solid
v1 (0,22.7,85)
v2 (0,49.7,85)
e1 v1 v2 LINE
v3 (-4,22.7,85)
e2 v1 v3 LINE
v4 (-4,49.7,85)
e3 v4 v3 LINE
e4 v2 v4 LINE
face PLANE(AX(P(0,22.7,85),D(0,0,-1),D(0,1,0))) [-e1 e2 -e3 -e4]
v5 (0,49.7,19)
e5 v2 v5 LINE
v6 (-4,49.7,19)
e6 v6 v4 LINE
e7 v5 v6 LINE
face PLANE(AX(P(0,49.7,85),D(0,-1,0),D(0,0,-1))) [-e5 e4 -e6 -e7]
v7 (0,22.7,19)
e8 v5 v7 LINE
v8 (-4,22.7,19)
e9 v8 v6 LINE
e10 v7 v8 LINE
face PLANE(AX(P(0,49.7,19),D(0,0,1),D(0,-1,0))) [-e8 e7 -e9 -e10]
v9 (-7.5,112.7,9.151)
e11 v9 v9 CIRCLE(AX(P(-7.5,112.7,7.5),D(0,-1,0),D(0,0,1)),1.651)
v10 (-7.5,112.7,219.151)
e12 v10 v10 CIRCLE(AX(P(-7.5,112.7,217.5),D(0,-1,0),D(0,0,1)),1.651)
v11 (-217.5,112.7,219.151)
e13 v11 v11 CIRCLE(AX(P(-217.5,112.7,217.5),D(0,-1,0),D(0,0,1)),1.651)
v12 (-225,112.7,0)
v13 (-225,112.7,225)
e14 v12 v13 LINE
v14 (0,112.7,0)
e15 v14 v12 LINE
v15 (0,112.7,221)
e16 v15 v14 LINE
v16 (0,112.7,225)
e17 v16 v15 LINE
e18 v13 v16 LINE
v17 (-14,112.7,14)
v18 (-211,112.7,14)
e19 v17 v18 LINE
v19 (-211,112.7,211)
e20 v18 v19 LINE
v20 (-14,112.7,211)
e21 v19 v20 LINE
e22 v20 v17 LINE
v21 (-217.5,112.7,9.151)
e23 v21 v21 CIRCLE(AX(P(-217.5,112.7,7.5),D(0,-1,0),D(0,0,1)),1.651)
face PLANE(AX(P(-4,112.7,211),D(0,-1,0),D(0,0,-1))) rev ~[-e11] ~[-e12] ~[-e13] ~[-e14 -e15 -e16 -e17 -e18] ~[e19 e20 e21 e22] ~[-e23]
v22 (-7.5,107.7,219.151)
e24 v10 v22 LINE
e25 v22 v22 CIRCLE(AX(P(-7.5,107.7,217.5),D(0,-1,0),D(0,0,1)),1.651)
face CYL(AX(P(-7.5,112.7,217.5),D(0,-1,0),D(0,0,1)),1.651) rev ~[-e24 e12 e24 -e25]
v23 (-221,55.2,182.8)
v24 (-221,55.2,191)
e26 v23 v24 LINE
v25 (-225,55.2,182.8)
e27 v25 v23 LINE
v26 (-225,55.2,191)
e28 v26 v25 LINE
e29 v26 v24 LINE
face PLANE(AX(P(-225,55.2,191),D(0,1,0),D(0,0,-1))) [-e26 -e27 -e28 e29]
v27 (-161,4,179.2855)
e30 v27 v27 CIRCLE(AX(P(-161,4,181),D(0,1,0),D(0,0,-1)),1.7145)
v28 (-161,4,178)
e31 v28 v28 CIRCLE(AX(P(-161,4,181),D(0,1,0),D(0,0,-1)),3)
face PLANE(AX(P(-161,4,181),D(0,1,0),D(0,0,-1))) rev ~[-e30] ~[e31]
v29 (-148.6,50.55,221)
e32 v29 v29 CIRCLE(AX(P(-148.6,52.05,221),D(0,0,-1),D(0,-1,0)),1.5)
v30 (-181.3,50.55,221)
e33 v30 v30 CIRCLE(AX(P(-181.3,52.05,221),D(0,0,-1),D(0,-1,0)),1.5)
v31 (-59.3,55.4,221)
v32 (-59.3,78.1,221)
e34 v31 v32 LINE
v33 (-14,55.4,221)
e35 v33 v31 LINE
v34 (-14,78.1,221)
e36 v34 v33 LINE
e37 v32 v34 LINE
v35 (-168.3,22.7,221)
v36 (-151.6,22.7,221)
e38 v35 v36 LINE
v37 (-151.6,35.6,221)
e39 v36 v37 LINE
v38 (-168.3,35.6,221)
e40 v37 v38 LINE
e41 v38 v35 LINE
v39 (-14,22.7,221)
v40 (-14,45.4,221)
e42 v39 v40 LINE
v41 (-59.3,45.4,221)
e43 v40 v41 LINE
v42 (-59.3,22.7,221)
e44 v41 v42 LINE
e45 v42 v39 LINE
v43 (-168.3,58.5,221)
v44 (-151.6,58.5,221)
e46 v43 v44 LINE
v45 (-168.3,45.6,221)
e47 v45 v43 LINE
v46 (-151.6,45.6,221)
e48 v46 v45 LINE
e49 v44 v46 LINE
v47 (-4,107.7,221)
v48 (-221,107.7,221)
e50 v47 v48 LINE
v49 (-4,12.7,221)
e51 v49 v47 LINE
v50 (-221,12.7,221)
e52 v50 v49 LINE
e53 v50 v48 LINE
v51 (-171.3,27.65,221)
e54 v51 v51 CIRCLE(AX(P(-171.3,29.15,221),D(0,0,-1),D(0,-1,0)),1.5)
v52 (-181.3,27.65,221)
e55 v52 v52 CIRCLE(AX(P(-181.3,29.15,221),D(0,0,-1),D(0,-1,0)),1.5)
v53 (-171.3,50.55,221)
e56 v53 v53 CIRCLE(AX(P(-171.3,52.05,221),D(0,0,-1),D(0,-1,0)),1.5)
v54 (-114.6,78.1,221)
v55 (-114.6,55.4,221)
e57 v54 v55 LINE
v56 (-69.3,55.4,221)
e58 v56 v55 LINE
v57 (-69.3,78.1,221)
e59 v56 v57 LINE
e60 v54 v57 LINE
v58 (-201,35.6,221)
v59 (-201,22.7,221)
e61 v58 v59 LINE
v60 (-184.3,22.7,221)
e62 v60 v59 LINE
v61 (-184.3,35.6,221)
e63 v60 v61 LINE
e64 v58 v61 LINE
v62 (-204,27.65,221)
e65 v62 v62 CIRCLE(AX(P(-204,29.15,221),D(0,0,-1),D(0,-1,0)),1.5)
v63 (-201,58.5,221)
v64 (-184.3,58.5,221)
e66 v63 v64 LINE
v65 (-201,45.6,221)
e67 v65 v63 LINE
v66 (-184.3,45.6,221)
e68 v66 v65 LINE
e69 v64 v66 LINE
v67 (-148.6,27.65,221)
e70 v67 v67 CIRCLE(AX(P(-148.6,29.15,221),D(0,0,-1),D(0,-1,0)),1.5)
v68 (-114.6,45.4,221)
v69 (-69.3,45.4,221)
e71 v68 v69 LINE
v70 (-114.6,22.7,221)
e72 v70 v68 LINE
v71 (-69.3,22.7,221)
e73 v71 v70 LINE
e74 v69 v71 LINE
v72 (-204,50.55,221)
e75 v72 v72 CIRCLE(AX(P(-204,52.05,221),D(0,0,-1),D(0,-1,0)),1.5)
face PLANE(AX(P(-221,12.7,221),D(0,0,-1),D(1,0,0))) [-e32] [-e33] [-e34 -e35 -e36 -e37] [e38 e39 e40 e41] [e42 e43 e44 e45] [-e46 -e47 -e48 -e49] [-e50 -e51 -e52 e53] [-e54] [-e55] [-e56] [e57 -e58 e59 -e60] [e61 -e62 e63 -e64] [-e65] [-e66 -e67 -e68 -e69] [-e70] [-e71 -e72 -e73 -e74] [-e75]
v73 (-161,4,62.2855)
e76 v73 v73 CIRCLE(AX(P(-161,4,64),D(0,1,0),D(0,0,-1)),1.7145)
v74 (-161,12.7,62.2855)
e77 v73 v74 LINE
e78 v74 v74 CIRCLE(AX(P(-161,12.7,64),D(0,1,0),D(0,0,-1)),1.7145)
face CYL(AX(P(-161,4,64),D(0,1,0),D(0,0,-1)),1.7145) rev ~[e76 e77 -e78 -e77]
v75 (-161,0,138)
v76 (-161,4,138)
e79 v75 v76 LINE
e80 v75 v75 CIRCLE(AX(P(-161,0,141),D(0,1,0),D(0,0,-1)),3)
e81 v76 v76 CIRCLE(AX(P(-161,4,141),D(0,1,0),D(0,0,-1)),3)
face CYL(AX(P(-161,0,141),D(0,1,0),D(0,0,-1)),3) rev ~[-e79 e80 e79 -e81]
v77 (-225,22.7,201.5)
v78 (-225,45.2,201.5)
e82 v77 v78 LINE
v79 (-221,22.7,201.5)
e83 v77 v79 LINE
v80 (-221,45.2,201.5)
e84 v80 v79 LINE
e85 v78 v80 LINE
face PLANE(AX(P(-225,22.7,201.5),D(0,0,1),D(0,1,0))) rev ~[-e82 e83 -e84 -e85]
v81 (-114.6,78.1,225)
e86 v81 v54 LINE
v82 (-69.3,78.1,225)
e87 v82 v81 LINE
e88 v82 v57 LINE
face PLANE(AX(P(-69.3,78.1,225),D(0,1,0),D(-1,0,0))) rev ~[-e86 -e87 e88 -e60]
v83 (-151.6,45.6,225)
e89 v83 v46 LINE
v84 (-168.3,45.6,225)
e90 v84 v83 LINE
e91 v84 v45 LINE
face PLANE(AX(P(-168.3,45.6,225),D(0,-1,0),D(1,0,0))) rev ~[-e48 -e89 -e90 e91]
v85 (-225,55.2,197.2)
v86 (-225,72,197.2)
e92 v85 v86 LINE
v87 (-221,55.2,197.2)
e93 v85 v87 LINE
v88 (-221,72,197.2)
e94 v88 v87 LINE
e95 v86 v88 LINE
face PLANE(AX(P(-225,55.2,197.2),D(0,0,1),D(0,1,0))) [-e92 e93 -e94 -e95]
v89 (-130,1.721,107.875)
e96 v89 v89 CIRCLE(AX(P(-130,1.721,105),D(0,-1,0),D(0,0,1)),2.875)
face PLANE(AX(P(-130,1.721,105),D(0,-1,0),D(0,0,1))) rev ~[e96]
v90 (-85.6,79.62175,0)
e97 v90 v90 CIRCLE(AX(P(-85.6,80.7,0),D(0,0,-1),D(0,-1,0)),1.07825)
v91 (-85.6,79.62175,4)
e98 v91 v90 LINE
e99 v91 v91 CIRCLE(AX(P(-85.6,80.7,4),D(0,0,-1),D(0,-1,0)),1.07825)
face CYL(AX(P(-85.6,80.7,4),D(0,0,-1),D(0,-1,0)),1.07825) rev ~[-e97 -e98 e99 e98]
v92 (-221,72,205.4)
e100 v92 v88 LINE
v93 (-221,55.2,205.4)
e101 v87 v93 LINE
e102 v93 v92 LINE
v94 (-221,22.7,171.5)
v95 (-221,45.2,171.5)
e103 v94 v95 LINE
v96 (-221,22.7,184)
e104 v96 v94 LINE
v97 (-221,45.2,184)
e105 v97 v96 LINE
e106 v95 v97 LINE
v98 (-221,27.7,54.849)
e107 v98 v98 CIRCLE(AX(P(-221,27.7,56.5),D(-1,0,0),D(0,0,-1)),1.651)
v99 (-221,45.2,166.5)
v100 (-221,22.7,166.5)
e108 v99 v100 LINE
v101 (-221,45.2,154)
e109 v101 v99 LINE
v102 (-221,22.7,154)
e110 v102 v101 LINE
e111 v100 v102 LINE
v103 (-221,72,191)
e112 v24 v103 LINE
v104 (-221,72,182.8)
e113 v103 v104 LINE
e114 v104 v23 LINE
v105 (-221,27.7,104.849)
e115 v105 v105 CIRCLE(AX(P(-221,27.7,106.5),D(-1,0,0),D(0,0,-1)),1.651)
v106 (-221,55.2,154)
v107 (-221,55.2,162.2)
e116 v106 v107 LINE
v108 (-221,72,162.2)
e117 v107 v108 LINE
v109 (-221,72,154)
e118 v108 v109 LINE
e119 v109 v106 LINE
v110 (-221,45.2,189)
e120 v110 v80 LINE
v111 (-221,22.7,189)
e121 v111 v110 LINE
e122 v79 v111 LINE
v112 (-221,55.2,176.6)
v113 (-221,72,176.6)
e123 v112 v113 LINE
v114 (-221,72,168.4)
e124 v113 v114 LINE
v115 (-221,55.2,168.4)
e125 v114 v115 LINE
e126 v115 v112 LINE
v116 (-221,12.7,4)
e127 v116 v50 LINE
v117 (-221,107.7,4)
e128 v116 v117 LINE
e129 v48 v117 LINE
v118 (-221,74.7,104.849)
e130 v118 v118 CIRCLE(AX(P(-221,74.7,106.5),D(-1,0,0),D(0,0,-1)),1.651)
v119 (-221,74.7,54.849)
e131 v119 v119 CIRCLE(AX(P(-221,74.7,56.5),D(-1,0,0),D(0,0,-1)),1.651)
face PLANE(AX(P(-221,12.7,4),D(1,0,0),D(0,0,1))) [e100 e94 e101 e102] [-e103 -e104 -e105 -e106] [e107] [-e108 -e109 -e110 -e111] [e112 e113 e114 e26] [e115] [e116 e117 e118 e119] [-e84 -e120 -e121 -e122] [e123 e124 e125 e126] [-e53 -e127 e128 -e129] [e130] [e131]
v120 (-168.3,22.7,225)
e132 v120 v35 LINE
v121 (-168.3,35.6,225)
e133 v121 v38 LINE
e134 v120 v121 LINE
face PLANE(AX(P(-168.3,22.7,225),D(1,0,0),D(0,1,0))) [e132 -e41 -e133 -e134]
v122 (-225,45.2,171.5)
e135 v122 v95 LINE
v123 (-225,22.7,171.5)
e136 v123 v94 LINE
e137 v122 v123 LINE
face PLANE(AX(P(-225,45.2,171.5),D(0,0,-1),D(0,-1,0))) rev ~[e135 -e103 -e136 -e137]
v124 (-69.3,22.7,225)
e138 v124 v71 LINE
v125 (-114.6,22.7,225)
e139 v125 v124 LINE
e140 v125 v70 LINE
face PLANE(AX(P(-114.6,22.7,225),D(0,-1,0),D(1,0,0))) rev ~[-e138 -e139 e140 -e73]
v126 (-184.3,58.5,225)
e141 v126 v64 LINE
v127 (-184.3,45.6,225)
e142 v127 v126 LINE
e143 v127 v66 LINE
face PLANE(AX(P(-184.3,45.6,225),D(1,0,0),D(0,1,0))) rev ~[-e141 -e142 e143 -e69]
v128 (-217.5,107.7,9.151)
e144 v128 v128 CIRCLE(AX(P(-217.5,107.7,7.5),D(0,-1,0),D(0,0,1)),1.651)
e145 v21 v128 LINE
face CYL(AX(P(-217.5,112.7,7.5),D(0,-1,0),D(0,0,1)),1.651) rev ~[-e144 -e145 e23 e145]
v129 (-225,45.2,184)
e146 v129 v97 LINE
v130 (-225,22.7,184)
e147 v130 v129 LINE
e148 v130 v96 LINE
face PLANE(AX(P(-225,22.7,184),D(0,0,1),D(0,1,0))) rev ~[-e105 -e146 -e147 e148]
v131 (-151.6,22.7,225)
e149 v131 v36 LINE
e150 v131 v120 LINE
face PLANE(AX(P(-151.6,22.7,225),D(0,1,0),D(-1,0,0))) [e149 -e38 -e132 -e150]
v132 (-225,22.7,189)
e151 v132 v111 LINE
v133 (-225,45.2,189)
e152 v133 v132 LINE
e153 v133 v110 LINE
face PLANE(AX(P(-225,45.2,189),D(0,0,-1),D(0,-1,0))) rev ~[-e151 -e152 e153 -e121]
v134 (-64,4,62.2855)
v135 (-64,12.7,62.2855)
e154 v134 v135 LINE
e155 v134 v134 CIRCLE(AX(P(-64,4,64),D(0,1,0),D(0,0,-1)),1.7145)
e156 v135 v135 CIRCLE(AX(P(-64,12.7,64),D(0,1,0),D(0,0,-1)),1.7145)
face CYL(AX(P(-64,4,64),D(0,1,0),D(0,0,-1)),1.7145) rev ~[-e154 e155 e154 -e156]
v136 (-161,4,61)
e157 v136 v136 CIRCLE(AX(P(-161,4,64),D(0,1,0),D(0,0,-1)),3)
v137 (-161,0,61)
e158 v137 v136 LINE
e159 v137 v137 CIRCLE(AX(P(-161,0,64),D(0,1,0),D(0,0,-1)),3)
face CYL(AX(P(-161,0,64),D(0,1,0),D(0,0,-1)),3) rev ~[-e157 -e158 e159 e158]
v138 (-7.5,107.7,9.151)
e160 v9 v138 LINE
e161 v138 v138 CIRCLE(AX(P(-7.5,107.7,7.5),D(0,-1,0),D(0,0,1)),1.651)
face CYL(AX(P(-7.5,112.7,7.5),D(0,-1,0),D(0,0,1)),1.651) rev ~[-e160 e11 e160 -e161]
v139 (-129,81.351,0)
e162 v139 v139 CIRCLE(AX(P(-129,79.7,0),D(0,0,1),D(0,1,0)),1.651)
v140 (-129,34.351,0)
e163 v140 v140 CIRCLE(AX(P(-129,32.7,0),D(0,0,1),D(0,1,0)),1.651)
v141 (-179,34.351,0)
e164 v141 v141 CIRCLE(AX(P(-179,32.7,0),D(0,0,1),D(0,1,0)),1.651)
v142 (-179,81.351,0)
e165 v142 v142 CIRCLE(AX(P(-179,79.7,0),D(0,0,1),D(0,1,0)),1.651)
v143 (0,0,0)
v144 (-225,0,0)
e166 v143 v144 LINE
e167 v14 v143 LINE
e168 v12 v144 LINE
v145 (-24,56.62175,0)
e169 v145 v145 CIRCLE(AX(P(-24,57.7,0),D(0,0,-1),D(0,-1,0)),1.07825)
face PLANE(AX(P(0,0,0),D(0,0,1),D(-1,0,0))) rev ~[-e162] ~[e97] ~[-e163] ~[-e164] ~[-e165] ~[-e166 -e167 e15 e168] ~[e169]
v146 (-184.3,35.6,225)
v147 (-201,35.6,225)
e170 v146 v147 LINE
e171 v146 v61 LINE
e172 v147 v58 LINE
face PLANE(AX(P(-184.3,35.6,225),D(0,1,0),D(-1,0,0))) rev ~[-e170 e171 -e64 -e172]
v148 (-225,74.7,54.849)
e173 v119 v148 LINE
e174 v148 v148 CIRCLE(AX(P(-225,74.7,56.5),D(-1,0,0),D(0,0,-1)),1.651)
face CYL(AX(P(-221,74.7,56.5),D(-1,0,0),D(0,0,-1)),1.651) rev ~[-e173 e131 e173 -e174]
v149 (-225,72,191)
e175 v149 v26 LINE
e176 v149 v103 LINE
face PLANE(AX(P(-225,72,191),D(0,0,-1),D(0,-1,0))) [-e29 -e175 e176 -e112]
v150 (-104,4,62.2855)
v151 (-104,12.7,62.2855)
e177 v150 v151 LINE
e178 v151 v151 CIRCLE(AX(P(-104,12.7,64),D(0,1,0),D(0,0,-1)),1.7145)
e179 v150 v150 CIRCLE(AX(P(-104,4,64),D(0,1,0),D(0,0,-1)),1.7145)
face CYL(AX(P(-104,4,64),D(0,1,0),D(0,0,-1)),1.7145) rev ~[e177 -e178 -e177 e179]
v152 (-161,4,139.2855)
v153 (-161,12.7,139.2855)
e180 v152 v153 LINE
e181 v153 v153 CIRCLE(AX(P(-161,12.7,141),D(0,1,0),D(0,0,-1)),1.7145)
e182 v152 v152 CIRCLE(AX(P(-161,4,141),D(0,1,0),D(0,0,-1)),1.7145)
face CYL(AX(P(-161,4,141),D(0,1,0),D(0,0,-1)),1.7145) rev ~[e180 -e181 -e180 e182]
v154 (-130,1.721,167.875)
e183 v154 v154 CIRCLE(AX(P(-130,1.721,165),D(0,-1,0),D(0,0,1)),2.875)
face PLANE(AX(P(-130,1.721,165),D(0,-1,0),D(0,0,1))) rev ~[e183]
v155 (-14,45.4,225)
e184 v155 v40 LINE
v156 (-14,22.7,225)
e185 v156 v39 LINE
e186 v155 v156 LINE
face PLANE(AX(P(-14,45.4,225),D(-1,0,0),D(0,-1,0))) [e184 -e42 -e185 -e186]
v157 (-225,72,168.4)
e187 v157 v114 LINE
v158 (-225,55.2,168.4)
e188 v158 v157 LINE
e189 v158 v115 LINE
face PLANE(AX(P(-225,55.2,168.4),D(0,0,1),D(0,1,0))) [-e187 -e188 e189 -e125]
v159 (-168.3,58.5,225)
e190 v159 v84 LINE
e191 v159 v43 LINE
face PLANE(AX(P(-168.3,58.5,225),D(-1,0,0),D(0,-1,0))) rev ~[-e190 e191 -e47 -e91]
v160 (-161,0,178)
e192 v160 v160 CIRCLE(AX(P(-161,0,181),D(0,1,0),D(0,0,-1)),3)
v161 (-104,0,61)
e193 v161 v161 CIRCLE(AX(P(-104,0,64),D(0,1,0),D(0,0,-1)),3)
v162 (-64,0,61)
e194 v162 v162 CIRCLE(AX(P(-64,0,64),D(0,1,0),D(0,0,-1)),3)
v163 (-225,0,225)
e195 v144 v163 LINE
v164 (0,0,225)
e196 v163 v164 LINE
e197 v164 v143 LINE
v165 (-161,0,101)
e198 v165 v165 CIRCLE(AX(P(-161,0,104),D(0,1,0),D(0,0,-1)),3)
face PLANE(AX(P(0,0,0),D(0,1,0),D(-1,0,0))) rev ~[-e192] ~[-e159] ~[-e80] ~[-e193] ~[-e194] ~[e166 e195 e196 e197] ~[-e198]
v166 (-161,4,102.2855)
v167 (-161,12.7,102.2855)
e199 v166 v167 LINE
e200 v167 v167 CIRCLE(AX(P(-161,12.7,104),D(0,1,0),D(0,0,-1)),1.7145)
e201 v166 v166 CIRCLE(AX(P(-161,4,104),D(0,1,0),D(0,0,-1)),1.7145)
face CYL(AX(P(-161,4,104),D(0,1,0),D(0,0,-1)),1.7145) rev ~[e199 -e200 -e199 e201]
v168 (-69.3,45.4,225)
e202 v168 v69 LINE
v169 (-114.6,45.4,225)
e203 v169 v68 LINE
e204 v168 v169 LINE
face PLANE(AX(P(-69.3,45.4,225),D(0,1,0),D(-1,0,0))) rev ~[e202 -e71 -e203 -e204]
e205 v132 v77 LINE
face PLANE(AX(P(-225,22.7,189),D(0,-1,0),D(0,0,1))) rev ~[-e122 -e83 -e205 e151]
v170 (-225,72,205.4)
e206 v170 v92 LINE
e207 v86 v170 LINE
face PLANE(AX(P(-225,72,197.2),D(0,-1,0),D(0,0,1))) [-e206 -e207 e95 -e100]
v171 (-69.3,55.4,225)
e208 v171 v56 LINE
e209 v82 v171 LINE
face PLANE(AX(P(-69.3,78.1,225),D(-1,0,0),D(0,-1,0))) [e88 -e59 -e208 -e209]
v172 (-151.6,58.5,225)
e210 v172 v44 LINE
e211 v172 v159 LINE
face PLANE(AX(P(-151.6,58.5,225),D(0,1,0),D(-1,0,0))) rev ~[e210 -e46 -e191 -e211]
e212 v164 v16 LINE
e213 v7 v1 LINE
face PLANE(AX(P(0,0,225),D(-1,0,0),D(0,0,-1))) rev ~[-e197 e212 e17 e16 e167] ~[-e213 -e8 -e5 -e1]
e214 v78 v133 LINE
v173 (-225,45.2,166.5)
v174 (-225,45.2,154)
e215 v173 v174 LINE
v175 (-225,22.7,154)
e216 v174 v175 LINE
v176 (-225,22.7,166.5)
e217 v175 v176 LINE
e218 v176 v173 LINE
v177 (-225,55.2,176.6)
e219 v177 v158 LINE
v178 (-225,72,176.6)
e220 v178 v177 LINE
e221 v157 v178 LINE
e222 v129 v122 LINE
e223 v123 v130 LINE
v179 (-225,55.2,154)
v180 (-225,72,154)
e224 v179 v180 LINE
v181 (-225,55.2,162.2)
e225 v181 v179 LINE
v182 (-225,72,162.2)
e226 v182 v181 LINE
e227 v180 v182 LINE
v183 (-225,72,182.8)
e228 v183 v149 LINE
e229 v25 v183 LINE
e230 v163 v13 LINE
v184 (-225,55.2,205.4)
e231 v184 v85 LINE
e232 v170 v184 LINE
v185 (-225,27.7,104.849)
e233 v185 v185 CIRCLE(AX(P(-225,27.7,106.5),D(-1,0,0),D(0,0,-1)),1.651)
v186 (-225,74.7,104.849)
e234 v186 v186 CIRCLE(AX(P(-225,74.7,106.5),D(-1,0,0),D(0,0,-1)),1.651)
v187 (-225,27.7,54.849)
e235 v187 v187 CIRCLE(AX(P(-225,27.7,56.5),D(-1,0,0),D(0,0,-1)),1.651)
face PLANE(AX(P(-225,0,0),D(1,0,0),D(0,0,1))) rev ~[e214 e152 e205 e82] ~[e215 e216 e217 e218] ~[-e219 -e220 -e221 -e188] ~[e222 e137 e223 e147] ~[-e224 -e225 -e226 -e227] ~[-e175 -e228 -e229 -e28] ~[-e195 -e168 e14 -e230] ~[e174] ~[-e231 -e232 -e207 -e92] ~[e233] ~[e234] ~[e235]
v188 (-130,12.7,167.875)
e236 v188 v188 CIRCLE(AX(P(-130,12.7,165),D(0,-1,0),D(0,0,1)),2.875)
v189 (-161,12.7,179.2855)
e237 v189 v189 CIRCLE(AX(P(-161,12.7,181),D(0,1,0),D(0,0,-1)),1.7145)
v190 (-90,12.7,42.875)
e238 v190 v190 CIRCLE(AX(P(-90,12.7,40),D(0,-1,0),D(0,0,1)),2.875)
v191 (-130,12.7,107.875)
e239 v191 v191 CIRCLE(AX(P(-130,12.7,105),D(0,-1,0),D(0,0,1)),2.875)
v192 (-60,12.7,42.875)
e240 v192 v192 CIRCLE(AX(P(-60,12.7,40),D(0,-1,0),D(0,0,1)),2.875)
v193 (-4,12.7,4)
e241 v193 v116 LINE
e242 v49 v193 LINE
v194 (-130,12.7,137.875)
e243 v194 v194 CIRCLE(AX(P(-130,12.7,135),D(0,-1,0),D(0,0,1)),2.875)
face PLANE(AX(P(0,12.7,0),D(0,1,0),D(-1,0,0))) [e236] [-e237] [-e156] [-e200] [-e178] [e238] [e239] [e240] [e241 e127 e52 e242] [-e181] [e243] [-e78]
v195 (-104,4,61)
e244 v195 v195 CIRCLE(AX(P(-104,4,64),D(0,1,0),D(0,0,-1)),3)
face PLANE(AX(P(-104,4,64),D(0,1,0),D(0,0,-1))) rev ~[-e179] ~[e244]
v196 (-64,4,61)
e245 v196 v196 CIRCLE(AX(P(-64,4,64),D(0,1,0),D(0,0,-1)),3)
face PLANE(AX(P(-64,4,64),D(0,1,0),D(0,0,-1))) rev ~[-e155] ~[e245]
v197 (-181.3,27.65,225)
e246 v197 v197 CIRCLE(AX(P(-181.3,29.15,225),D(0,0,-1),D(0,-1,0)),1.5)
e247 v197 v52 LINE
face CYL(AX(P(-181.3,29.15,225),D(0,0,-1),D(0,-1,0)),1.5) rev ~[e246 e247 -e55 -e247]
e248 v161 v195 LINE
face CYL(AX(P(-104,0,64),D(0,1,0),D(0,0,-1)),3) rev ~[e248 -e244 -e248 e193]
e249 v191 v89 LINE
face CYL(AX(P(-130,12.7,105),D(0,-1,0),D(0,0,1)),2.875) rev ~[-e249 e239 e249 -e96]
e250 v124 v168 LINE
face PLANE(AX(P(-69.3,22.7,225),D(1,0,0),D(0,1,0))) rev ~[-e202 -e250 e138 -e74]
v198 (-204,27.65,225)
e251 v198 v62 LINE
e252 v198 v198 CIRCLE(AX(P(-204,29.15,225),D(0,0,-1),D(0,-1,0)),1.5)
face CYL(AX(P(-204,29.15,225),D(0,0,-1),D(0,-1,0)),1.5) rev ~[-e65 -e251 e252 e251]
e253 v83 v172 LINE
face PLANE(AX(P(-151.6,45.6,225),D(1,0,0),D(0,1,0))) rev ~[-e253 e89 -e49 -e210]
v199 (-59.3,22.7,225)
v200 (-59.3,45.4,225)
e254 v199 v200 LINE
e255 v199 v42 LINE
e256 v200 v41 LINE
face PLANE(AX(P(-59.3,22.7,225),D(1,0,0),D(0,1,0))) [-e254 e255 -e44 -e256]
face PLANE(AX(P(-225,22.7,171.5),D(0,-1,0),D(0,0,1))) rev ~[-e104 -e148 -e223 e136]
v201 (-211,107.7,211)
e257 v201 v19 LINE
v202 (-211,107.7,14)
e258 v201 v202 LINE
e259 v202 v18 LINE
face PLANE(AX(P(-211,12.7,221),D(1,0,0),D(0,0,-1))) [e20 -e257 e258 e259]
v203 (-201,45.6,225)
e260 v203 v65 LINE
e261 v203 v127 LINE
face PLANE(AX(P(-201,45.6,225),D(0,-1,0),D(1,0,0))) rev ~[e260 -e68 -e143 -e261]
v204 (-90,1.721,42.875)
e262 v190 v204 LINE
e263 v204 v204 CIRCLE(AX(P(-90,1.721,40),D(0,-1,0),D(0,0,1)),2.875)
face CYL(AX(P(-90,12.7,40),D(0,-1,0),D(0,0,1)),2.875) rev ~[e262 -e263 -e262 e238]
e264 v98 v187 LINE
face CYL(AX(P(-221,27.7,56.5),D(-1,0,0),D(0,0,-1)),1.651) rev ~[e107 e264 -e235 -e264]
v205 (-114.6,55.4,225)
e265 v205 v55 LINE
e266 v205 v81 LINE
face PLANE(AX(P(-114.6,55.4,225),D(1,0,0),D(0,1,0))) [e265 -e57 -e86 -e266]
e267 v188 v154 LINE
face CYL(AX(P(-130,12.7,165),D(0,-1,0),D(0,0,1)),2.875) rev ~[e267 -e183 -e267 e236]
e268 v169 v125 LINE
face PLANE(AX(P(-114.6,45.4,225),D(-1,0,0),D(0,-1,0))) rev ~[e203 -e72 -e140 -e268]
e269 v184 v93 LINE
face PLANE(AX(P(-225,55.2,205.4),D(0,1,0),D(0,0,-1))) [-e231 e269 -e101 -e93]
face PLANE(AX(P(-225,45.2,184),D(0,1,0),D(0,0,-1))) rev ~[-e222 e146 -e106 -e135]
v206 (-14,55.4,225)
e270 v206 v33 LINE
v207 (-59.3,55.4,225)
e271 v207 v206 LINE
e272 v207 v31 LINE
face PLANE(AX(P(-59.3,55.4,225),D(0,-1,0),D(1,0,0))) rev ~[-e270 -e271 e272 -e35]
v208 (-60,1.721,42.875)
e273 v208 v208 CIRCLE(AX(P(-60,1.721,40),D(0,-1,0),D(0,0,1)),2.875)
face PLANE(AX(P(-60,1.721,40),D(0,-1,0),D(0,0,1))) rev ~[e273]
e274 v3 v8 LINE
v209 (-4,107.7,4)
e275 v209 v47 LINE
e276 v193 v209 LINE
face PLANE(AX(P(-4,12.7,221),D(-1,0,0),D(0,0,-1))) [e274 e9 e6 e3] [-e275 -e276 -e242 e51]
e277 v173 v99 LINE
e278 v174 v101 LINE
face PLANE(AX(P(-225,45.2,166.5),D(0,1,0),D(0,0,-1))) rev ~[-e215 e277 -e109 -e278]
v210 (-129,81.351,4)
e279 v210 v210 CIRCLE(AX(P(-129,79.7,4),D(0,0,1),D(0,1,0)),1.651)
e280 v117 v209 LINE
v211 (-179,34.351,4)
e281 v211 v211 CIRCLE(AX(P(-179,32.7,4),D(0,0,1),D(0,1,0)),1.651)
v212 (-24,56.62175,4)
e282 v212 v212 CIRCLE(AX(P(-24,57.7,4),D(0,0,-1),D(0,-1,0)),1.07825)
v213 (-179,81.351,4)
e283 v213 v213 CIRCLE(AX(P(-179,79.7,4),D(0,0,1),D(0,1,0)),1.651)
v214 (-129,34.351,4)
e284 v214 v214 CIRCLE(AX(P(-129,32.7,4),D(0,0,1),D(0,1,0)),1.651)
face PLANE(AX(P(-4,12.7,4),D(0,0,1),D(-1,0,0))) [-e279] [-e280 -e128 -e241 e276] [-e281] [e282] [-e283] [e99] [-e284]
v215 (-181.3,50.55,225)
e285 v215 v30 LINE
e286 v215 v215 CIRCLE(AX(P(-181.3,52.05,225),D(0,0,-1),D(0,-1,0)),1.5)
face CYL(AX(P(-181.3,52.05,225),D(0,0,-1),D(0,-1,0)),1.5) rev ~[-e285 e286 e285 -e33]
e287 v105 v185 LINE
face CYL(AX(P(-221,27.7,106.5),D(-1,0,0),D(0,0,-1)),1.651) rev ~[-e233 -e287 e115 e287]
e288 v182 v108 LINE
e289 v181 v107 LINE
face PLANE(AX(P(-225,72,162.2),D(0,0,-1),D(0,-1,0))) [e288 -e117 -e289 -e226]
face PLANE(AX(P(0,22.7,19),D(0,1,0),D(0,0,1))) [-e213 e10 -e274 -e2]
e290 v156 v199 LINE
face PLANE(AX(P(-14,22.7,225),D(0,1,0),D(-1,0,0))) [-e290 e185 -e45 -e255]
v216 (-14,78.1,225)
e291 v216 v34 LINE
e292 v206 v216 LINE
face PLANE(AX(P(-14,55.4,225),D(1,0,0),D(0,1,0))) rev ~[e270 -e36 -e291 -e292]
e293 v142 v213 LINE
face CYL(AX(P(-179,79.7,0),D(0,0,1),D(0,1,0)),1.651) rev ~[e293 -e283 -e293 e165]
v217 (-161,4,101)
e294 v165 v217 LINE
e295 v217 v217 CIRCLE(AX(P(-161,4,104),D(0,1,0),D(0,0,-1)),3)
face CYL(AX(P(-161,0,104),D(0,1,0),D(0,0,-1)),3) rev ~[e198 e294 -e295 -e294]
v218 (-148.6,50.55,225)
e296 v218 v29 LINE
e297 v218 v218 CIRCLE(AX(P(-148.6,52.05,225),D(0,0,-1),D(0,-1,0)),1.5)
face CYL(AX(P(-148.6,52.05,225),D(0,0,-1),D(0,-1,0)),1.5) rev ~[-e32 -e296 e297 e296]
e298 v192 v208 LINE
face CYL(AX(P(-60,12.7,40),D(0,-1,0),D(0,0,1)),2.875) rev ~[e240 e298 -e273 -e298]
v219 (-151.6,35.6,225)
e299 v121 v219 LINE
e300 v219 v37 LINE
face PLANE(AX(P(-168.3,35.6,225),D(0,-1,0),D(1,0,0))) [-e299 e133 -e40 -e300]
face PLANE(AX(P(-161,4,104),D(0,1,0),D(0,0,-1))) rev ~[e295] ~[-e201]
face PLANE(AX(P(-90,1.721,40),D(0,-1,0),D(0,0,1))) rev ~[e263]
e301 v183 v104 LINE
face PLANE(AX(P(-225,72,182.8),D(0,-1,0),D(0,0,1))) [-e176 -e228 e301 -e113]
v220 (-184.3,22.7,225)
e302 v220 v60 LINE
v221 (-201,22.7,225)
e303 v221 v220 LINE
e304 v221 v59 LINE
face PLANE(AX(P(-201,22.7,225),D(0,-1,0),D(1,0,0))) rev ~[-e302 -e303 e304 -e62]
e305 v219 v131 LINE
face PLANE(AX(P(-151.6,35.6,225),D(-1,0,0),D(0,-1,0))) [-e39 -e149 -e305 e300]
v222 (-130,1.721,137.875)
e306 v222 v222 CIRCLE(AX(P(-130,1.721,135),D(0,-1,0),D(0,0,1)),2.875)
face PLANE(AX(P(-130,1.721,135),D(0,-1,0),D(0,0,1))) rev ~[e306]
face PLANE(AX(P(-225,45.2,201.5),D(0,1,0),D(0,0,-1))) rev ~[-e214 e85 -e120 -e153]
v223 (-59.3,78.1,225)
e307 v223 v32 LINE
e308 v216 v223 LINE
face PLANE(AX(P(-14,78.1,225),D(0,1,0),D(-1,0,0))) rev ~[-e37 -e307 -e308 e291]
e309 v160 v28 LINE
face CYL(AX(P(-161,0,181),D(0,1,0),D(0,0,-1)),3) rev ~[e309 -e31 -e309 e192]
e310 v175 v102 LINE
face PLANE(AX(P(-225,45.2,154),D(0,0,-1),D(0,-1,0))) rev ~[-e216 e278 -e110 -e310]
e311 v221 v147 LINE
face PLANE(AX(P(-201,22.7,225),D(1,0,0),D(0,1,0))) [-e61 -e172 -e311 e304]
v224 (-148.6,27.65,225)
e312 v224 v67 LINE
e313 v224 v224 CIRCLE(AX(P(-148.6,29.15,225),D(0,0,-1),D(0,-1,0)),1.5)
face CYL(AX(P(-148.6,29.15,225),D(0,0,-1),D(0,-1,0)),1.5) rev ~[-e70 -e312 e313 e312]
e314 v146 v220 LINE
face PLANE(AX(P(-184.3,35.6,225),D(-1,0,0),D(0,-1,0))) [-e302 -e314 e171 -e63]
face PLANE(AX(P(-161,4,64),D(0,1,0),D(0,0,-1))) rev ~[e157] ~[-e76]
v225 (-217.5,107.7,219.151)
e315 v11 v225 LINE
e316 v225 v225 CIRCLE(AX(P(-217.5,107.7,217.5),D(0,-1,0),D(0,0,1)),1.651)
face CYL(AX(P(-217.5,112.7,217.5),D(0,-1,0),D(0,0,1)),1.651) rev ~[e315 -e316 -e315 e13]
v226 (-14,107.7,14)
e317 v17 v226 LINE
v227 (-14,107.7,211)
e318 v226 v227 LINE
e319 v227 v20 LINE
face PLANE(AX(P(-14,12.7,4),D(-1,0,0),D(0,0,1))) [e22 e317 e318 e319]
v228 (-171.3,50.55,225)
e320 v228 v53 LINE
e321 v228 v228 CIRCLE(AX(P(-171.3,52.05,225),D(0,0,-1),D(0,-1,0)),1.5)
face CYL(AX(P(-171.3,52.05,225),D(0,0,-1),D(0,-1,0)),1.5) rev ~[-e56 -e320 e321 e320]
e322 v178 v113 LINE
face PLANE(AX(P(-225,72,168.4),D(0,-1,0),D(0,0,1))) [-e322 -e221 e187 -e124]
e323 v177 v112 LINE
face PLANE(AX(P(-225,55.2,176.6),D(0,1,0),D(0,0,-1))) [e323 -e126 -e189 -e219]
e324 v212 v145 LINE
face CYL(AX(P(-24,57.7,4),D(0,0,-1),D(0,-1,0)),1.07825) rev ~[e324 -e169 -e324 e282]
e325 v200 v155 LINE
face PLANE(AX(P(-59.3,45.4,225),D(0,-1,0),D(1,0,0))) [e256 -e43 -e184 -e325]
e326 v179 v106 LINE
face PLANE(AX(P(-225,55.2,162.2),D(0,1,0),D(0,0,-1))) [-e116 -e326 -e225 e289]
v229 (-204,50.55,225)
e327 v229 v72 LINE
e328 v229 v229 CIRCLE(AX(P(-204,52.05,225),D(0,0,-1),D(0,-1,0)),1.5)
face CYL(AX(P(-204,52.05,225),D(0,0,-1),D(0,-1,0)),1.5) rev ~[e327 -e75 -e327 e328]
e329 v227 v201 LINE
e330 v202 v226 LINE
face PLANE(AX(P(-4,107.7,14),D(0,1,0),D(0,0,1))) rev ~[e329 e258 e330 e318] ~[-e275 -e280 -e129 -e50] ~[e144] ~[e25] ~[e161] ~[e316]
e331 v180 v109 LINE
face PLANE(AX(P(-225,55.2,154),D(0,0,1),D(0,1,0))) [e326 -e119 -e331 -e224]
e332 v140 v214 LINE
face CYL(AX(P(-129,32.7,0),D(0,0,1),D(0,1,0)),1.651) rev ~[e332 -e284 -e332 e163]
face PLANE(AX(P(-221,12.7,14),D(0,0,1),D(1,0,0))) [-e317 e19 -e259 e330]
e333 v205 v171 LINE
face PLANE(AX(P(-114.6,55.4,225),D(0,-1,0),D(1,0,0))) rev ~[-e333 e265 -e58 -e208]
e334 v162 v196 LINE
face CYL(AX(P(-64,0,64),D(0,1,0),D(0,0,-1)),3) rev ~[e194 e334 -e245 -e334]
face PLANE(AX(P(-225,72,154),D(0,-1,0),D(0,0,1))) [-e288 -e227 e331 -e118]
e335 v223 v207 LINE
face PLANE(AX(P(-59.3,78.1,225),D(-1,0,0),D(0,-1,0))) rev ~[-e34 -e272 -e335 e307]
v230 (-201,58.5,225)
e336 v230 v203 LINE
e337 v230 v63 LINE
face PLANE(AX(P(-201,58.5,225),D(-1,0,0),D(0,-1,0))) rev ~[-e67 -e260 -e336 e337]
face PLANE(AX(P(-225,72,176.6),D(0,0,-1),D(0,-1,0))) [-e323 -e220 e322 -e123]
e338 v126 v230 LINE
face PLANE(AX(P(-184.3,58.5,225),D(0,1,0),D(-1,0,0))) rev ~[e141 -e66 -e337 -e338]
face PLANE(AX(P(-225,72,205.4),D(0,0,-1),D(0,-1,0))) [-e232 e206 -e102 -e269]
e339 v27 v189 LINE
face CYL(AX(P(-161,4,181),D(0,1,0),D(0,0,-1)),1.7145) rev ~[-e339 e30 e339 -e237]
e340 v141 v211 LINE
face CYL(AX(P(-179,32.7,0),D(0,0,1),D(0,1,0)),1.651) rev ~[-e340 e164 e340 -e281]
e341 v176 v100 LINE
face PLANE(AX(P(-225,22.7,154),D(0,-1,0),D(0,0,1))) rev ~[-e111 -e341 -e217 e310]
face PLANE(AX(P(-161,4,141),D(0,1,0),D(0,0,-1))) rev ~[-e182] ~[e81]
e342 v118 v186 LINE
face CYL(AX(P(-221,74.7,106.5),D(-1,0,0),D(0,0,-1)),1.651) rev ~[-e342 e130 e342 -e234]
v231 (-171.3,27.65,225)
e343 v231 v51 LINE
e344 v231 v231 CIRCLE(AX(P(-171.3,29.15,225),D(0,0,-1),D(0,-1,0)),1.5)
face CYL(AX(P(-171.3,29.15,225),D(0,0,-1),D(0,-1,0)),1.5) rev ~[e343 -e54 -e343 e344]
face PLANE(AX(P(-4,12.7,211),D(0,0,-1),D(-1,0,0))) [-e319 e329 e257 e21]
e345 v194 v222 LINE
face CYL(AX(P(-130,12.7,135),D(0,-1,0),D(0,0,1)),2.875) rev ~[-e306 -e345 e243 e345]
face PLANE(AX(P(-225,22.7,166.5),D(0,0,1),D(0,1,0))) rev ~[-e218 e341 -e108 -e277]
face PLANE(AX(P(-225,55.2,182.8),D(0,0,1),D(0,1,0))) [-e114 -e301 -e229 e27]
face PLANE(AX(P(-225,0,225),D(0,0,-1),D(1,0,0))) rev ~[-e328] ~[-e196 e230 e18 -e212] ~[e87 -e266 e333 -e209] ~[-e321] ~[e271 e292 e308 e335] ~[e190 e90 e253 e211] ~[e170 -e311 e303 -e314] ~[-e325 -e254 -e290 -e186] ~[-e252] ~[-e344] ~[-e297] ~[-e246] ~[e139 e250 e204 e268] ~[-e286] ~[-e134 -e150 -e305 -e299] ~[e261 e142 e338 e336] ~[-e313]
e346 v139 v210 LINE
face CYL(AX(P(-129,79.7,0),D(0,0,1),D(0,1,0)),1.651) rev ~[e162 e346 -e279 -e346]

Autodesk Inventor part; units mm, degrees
ref_plane "YZ Plane" through (0, 0, 0) normal (1, 0, 0) x (0, 1, 0)
ref_plane "XZ Plane" through (0, 0, 0) normal (0, 1, 0) x (-1, 0, 0)
ref_plane "XY Plane" through (0, 0, 0) normal (0, 0, 1) x (1, 0, 0)
sketch "Sketch14" plane through (0, 0, 0) normal (0, 1, 0) x (-1, 0, 0)
  line L0 (225, 225) -> (0, 225)
  line L1 (0, 225) -> (0, 0)
  line L2 (0, 0) -> (225, 0)
  line L3 (225, 0) -> (225, 225)
  dimension "d298" = 225
  dimension "d299" = 225
extrude "Extrusion8" add sketch "Sketch14" along normal blind 12.7
sketch "Sketch15" plane through (0, 12.7, 0) normal (0, 1, 0) x (1, 0, 0)
  line L0 (0, 0) -> (-225, 0) projected
  line L1 (-225, 0) -> (-225, -225) projected
  line L2 (-225, -225) -> (0, -225) projected
  line L3 (0, -225) -> (0, 0) projected
  line L4 (0, -225) -> (0, 0) projected
  line L5 (0, -225) -> (0, -221)
  line L6 (0, -221) -> (-4, -221)
  line L7 (-4, -221) -> (-4, -4)
  line L8 (-4, -4) -> (-221, -4)
  line L9 (0, 0) -> (-225, 0) projected
  line L10 (-221, -4) -> (-221, -221)
  line L11 (-221, -221) -> (-4, -221)
  dimension "d130" = 4
  dimension "d131" = 4
  dimension "d132" = 217
  dimension "d133" = 217
  dimension "d134" = 90
extrude "Extrusion9" add sketch "Sketch15" along normal blind 100
sketch "Sketch16" plane through (-225, 0, 225) normal (0, 0, 1) x (1, 0, 0)
  line L0 (4, 12.7) -> (110.4, 12.7)
  line L1 (221, 12.7) -> (4, 12.7) projected
  line L2 (110.4, 12.7) -> (110.4, 22.7)
  line L3 (110.4, 22.7) -> (155.7, 22.7)
  line L4 (155.7, 22.7) -> (155.7, 45.4)
  line L5 (155.7, 45.4) -> (110.4, 45.4)
  line L6 (110.4, 45.4) -> (110.4, 22.7)
  line L7 (155.7, 22.7) -> (165.7, 22.7)
  line L8 (165.7, 22.7) -> (165.7, 45.4)
  line L9 (165.7, 45.4) -> (211, 45.4)
  line L10 (211, 45.4) -> (211, 22.7)
  line L11 (211, 22.7) -> (165.7, 22.7)
  line L12 (211, 45.4) -> (211, 55.4)
  line L13 (211, 55.4) -> (211, 78.1)
  line L14 (211, 78.1) -> (165.7, 78.1)
  line L15 (165.7, 78.1) -> (165.7, 55.4)
  line L16 (165.7, 55.4) -> (211, 55.4)
  line L17 (155.7, 45.4) -> (155.7, 55.4)
  line L18 (155.7, 78.1) -> (155.7, 55.4)
  line L19 (110.4, 55.4) -> (155.7, 55.4)
  line L20 (110.4, 55.4) -> (110.4, 78.1)
  line L21 (155.7, 78.1) -> (110.4, 78.1)
  point P0 (225, 0)
  dimension "d138" = 106.4
  dimension "d139" = 10
  dimension "d140" = 45.3
  dimension "d141" = 22.7
  dimension "d142" = 10
  dimension "d143" = 45.3
  dimension "d144" = 10
  dimension "d145" = 22.7
extrude "Extrusion10" cut sketch "Sketch16" against normal blind 10
sketch "Sketch17" plane through (-225, 0, 225) normal (0, 0, 1) x (1, 0, 0)
  line L0 (221, 12.7) -> (221, 112.7) projected
  line L1 (221, 12.7) -> (73.4, 12.7)
  line L2 (4, 12.7) -> (221, 12.7) projected
  line L3 (73.4, 12.7) -> (73.4, 22.7)
  line L4 (73.4, 22.7) -> (56.7, 22.7)
  line L5 (56.7, 22.7) -> (56.7, 35.6)
  line L6 (56.7, 35.6) -> (73.4, 35.6)
  line L7 (73.4, 35.6) -> (73.4, 22.7)
  line L8 (56.7, 35.6) -> (56.7, 45.6)
  line L9 (56.7, 45.6) -> (73.4, 45.6)
  line L10 (73.4, 45.6) -> (73.4, 58.5)
  line L11 (73.4, 58.5) -> (56.7, 58.5)
  line L12 (56.7, 58.5) -> (56.7, 45.6)
  line L13 (56.7, 45.6) -> (40.7, 45.6)
  line L14 (40.7, 45.6) -> (40.7, 58.5)
  line L15 (40.7, 58.5) -> (24, 58.5)
  line L16 (24, 58.5) -> (24, 45.6)
  line L17 (24, 45.6) -> (40.7, 45.6)
  line L18 (40.7, 35.6) -> (40.7, 22.7)
  line L19 (24, 22.7) -> (40.7, 22.7)
  line L20 (24, 22.7) -> (24, 35.6)
  line L21 (40.7, 35.6) -> (24, 35.6)
  point P0 (225, 0)
  dimension "d148" = 147.6
  dimension "d149" = 10
  dimension "d150" = 16.7
  dimension "d151" = 12.9
  dimension "d152" = 10
  dimension "d153" = 12.9
  dimension "d154" = 16
  dimension "d155" = 16.7
sketch "Sketch18" plane through (-225, 0, 225) normal (0, 0, 1) x (1, 0, 0)
  line L0 (24, 58.5) -> (24, 45.6) projected
  line L1 (40.7, 45.6) -> (40.7, 58.5) projected
  line L2 (56.7, 58.5) -> (56.7, 45.6) projected
  line L3 (73.4, 45.6) -> (73.4, 58.5) projected
  line L4 (73.4, 35.6) -> (73.4, 22.7) projected
  line L5 (56.7, 22.7) -> (56.7, 35.6) projected
  line L6 (40.7, 35.6) -> (40.7, 22.7) projected
  line L7 (24, 22.7) -> (24, 35.6) projected
  line L8 (24, 52.05) -> (21, 52.05)
  line L9 (24, 29.15) -> (21, 29.15)
  line L10 (40.7, 29.15) -> (43.7, 29.15)
  line L11 (40.7, 52.05) -> (43.7, 52.05)
  line L12 (56.7, 52.05) -> (53.7, 52.05)
  line L13 (56.7, 29.15) -> (53.7, 29.15)
  line L14 (73.4, 52.05) -> (76.4, 52.05)
  line L15 (76.4, 52.05) -> (76.4, 29.15)
  point P0 (225, 0)
  dimension "d156" = 3
  dimension "d157" = 3
  dimension "d158" = 3
  dimension "d159" = 3
  dimension "d160" = 3
hole "Hole5" at (-204, 52.05, 225) at (-204, 29.15, 225) at (-181.3, 29.15, 225) at (-181.3, 52.05, 225) at (-171.3, 52.05, 225) at (-171.3, 29.15, 225) at (-148.6, 29.15, 225) at (-148.6, 52.05, 225) direction (0, 0, -1) diameter 3 depth 8.865
extrude "Extrusion11" cut sketch "Sketch17" against normal blind 10
sketch "Sketch19" plane through (-225, 0, 0) normal (-1, 0, 0) x (0, 0, 1)
  line L0 (221, 12.7) -> (4, 12.7) projected
  line L1 (4, 12.7) -> (154, 12.7)
  line L2 (154, 12.7) -> (154, 22.7)
  line L3 (154, 22.7) -> (166.5, 22.7)
  line L4 (166.5, 22.7) -> (166.5, 45.2)
  line L5 (166.5, 45.2) -> (154, 45.2)
  line L6 (154, 45.2) -> (154, 22.7)
  line L7 (166.5, 45.2) -> (171.5, 45.2)
  line L8 (171.5, 45.2) -> (171.5, 22.7)
  line L9 (171.5, 22.7) -> (184, 22.7)
  line L10 (184, 22.7) -> (184, 45.2)
  line L11 (184, 45.2) -> (171.5, 45.2)
  line L12 (184, 45.2) -> (189, 45.2)
  line L13 (189, 45.2) -> (189, 22.7)
  line L14 (189, 22.7) -> (201.5, 22.7)
  line L15 (201.5, 22.7) -> (201.5, 45.2)
  line L16 (201.5, 45.2) -> (189, 45.2)
  point P0 (0, 0)
  dimension "d170" = 150
  dimension "d171" = 10
  dimension "d172" = 12.5
  dimension "d173" = 22.5
  dimension "d174" = 5
  dimension "d175" = 12.5
  dimension "d176" = 5
  dimension "d177" = 12.5
extrude "Extrusion12" cut sketch "Sketch19" against normal blind 10
sketch "Sketch20" plane through (-225, 0, 0) normal (-1, 0, 0) x (0, 0, 1)
  line L0 (154, 45.2) -> (166.5, 45.2) projected
  line L1 (154, 45.2) -> (4, 45.2)
  line L2 (4, 12.7) -> (4, 112.7) projected
  line L3 (4, 45.2) -> (4, 55.2)
  line L4 (4, 55.2) -> (154, 55.2)
  line L5 (154, 55.2) -> (154, 72)
  line L6 (154, 72) -> (162.2, 72)
  line L7 (162.2, 72) -> (162.2, 55.2)
  line L8 (162.2, 55.2) -> (154, 55.2)
  line L9 (162.2, 55.2) -> (168.4, 55.2)
  line L10 (168.4, 55.2) -> (168.4, 72)
  line L11 (168.4, 72) -> (176.6, 72)
  line L12 (176.6, 72) -> (176.6, 55.2)
  line L13 (176.6, 55.2) -> (168.4, 55.2)
  line L14 (176.6, 55.2) -> (182.8, 55.2)
  line L15 (182.8, 55.2) -> (182.8, 72)
  line L16 (182.8, 72) -> (191, 72)
  line L17 (191, 72) -> (191, 55.2)
  line L18 (191, 55.2) -> (182.8, 55.2)
  line L19 (191, 55.2) -> (197.2, 55.2)
  line L20 (197.2, 55.2) -> (197.2, 72)
  line L21 (197.2, 72) -> (205.4, 72)
  line L22 (205.4, 72) -> (205.4, 55.2)
  line L23 (205.4, 55.2) -> (197.2, 55.2)
  point P0 (0, 0)
  dimension "d180" = 10
  dimension "d181" = 150
  dimension "d182" = 16.8
  dimension "d183" = 8.2
  dimension "d184" = 6.2
  dimension "d185" = 8.2
  dimension "d186" = 6.2
  dimension "d187" = 8.2
  dimension "d188" = 6.2
  dimension "d189" = 8.2
extrude "Extrusion13" cut sketch "Sketch20" against normal blind 10
sketch "Sketch24" plane through (0, 0, 0) normal (0, 0, -1) x (-1, 0, 0)
  line L0 (4, 12.7) -> (221, 12.7) projected
  line L1 (4, 12.7) -> (104, 12.7)
  line L2 (104, 12.7) -> (129, 12.7)
  line L3 (129, 12.7) -> (129, 32.7)
  line L4 (129, 32.7) -> (156.5, 32.7)
  line L5 (156.5, 32.7) -> (179, 32.7)
  line L6 (179, 32.7) -> (179, 79.7)
  line L7 (129, 32.7) -> (129, 79.7)
  point P0 (0, 0)
  dimension "d226" = 100
  dimension "d227" = 25
  dimension "d228" = 20
  dimension "d229" = 27.5
  dimension "d230" = 90
  dimension "d231" = 22.5
  dimension "d232" = 47
  dimension "d233" = 47
hole "Hole8" at (-129, 79.7, 0) at (-129, 32.7, 0) at (-179, 32.7, 0) at (-179, 79.7, 0) direction (0, 0, 1) diameter 3.302 depth 12.3 thread size "8-32 UNC" class "2B" standard "ANSI Unified Screw Threads"
sketch "Sketch26" plane through (-221, 12.7, 4) normal (0, 0, 1) x (1, 0, 0)
  circle A0 centre (42, 67) radius 1.651 projected
  line L0 (42, 67) -> (64.5, 67)
  line L1 (64.5, 67) -> (69.5, 67)
  circle A1 centre (92, 67) radius 1.651 projected
  line L2 (69.5, 67) -> (92, 67)
  line L3 (92, 67) -> (114.5, 67)
  line L4 (114.5, 67) -> (114.5, 20)
  line L5 (114.5, 20) -> (69.5, 20)
  line L6 (69.5, 20) -> (64.5, 20)
  line L7 (64.5, 20) -> (19.5, 20)
  line L8 (19.5, 20) -> (19.5, 67)
  line L9 (19.5, 67) -> (42, 67)
  line L10 (-4, 100) -> (221, 100) projected
  line L11 (64.5, 67) -> (64.5, 20)
  line L12 (69.5, 67) -> (69.5, 20)
  line L13 (69.5, 67) -> (116.5, 67) construction
  line L14 (19.5, 67) -> (19.5, 72)
  line L15 (19.5, 72) -> (64.5, 72)
  line L16 (64.5, 72) -> (64.5, 15)
  line L17 (64.5, 15) -> (19.5, 15)
  line L18 (19.5, 15) -> (19.5, 20)
  line L19 (69.5, 67) -> (69.5, 72)
  line L20 (69.5, 72) -> (114.5, 72)
  line L21 (114.5, 72) -> (114.5, 15)
  line L22 (114.5, 15) -> (69.5, 15)
  line L23 (69.5, 20) -> (69.5, 15)
  point P0 (221, -12.7)
  dimension "d249" = 22.5
  dimension "d250" = 5
  dimension "d251" = 22.5
  dimension "d252" = 47
  dimension "d253" = 90
  dimension "d254" = 45
  dimension "d255" = 90
  dimension "d256" = 5
  dimension "d257" = 180
  dimension "d258" = 45
  dimension "d259" = 180
  dimension "d260" = 47
  dimension "d261" = 90
  dimension "d262" = 47
  dimension "d263" = 47
  dimension "d264" = 90
  dimension "d273" = 5
  dimension "d274" = 57
  dimension "d275" = 90
  dimension "d276" = 5
  dimension "d277" = 57
sketch "Sketch27" plane through (0, 12.7, 0) normal (0, 1, 0) x (1, 0, 0)
  line L0 (-114.6, -225) -> (-114.6, -98)
  line L1 (-114.6, -225) -> (12.4, -225) construction
  line L2 (-14, -225) -> (-14, -98)
  line L3 (-14, -225) -> (113, -225) construction
  line L4 (-14, -98) -> (-114.6, -98)
  point P0 (0, 0)
  dimension "d265" = 127
  dimension "d266" = 90
  dimension "d267" = 127
  dimension "d268" = 90
sketch "Sketch32" plane through (0, 0, 225) normal (1, 0, 0) x (0, 0, -1)
  line L0 (221, 12.7) -> (221, 112.7) projected
  line L1 (221, 12.7) -> (221, 22.7)
  line L2 (221, 22.7) -> (206, 22.7)
  line L3 (206, 22.7) -> (140, 22.7)
  line L4 (140, 22.7) -> (140, 49.7)
  line L5 (140, 49.7) -> (206, 49.7)
  line L6 (206, 49.7) -> (206, 22.7)
  point P0 (225, 0)
  dimension "d308" = 10
  dimension "d309" = 15
  dimension "d310" = 66
  dimension "d311" = 27
sketch "Sketch33" plane through (-221, 5.2, 0) normal (-1, 0, 0) x (0, 0, 1)
  line L0 (4, 7.5) -> (4, 107.5) projected
  line L1 (4, 7.5) -> (34, 7.5)
  line L2 (221, 7.5) -> (4, 7.5) projected
  line L3 (34, 7.5) -> (34, 22.5)
  line L4 (34, 7.5) -> (49, 7.5) construction
  line L5 (34, 22.5) -> (34, 69.5)
  line L6 (34, 69.5) -> (56.5, 69.5)
  line L7 (56.5, 69.5) -> (79, 69.5)
  line L8 (79, 69.5) -> (79, 74.5)
  line L9 (79, 74.5) -> (34, 74.5)
  line L10 (34, 74.5) -> (34, 69.5)
  line L11 (79, 74.5) -> (79, 17.5)
  line L12 (79, 17.5) -> (34, 17.5)
  line L13 (56.5, 17.5) -> (56.5, 22.5)
  line L14 (79, 74.5) -> (84, 74.5)
  line L15 (84, 74.5) -> (106.5, 74.5)
  line L16 (106.5, 74.5) -> (129, 74.5)
  line L17 (129, 74.5) -> (129, 17.5)
  line L18 (129, 17.5) -> (84, 17.5)
  line L19 (84, 17.5) -> (84, 74.5)
  line L20 (106.5, 74.5) -> (106.5, 69.5)
  line L21 (106.5, 69.5) -> (106.5, 22.5)
  point P0 (0, -5.2)
  dimension "d312" = 30
  dimension "d313" = 15
  dimension "d314" = 90
  dimension "d327" = 47
  dimension "d328" = 22.5
  dimension "d329" = 22.5
  dimension "d330" = 5
  dimension "d331" = 57
  dimension "d332" = 5
  dimension "d333" = 5
  dimension "d334" = 22.5
  dimension "d335" = 22.5
  dimension "d336" = 5
  dimension "d337" = 47
hole "Hole9" at (-221, 74.7, 56.5) at (-221, 27.7, 56.5) at (-221, 27.7, 106.5) at (-221, 74.7, 106.5) direction (-1, 0, 0) diameter 3.302 depth 12.3 thread size "8-32 UNC" class "2B" standard "ANSI Unified Screw Threads"
sketch "Sketch29" plane through (0, 12.7, 0) normal (0, 1, 0) x (1, 0, 0)
  line L0 (-201.5, -4) -> (-201.5, -26.86)
  line L1 (-4, -4) -> (-221, -4) projected
  line L2 (-201.5, -4) -> (-178.64, -4) construction
  line L3 (-201.5, -26.86) -> (-106.5, -26.86)
  line L4 (-106.5, -26.86) -> (-106.5, -4)
  line L5 (-221, -34) -> (-198, -34)
  line L6 (-198, -34) -> (-198, -129)
  line L7 (-198, -129) -> (-221, -129)
  point P0 (0, 0)
  point P1 (-106.5, -4)
  dimension "d286" = 22.86
  dimension "d287" = 90
  dimension "d288" = 95
  dimension "d289" = 90
  dimension "d346" = 23
sketch "Sketch34" plane through (-221, 12.7, 4) normal (0, 0, 1) x (1, 0, 0)
  line L0 (217, 0) -> (0, 0) projected
  line L1 (217, 0) -> (217, 45)
  line L2 (217, 45) -> (197, 45)
  line L3 (197, 45) -> (197, 68)
  line L4 (197, 68) -> (135.4, 68)
  line L5 (135.4, 68) -> (135.4, 45)
  point P0 (221, -12.7)
  dimension "d347" = 45
  dimension "d348" = 20
  dimension "d349" = 23
  dimension "d350" = 61.6
hole "Hole10" at (-85.6, 80.7, 4) at (-24, 57.7, 4) direction (0, 0, -1) diameter 2.1565 depth 8.865 thread size "4-40 UNC" class "2B" standard "ANSI Unified Screw Threads"
extrude "Extrusion15" cut sketch "Sketch32" against normal blind 10
sketch "Sketch35" plane through (0, 0, 0) normal (0, 1, 0) x (1, 0, 0)
  line L0 (-221, -4) -> (-221, -221) projected
  line L1 (-221, -4) -> (-161, -4)
  line L2 (-4, -4) -> (-221, -4) projected
  line L3 (-161, -4) -> (-161, -64)
  line L4 (-161, -64) -> (-161, -104)
  line L5 (-4, -4) -> (-104, -4)
  line L6 (-104, -4) -> (-104, -64)
  line L7 (-104, -64) -> (-64, -64)
  line L8 (-4, -221) -> (-221, -221) projected
  line L9 (-221, -221) -> (-161, -221)
  line L10 (-161, -221) -> (-161, -141)
  line L11 (-161, -141) -> (-161, -181)
  point P0 (0, 0)
  dimension "d360" = 60
  dimension "d361" = 60
  dimension "d362" = 90
  dimension "d363" = 40
  dimension "d364" = 100
  dimension "d365" = 60
  dimension "d366" = 40
  dimension "d367" = 60
  dimension "d368" = 80
  dimension "d369" = 40
hole "Hole11" at (-161, 0, 141) at (-161, 0, 181) at (-161, 0, 104) at (-161, 0, 64) at (-104, 0, 64) at (-64, 0, 64) direction (0, 1, 0) diameter 3.429 end through all counterbore diameter 6 counterbore depth 4
sketch "Sketch36" plane through (-221, 12.7, 4) normal (0, 0, 1) x (1, 0, 0)
  line L0 (0, 100) -> (0, 95)
  line L1 (0, 95) -> (217, 95)
  line L2 (217, 95) -> (217, 100)
  line L3 (217, 100) -> (0, 100)
  point P0 (221, -12.7)
  dimension "d377" = 5
  dimension "d378" = 90
extrude "Extrusion16" add sketch "Sketch36" along normal blind 10
sketch "Sketch37" plane through (-221, 12.7, 221) normal (1, 0, 0) x (0, 0, -1)
  line L0 (0, 100) -> (0, 95)
  line L1 (217, 95) -> (207, 95) projected
  line L2 (0, 95) -> (207, 95)
  line L3 (207, 95) -> (207, 100) projected
  line L4 (207, 95) -> (207, 100)
  line L5 (207, 100) -> (0, 100)
  point P0 (221, -12.7)
  dimension "d381" = 5
extrude "Extrusion17" add sketch "Sketch37" along normal blind 10
sketch "Sketch38" plane through (-4, 12.7, 221) normal (0, 0, -1) x (-1, 0, 0)
  line L0 (0, 100) -> (0, 95)
  line L1 (207, 95) -> (207, 100) projected
  line L2 (0, 95) -> (207, 95)
  line L3 (207, 95) -> (207, 100)
  line L4 (207, 100) -> (0, 100)
  point P0 (-4, -12.7)
  dimension "d384" = 5
extrude "Extrusion18" add sketch "Sketch38" along normal blind 10
sketch "Sketch39" plane through (-4, 12.7, 4) normal (-1, 0, 0) x (0, 0, 1)
  line L0 (10, 100) -> (10, 95)
  line L1 (207, 95) -> (207, 100) projected
  line L2 (10, 95) -> (207, 95)
  line L3 (207, 95) -> (207, 100)
  line L4 (207, 100) -> (10, 100)
  point P0 (-4, -12.7)
extrude "Extrusion19" add sketch "Sketch39" along normal blind 10
sketch "Sketch40" plane through (0, 112.7, 0) normal (0, 1, 0) x (1, 0, 0)
  line L0 (-225, 0) -> (-225, -225) projected
  line L1 (-225, -225) -> (-225, -217.5)
  line L2 (-225, -217.5) -> (-217.5, -217.5)
  line L3 (-217.5, -217.5) -> (-217.5, -7.5)
  line L4 (-217.5, -7.5) -> (-7.5, -7.5)
  line L5 (-7.5, -7.5) -> (-7.5, -217.5)
  line L6 (-4, -221) -> (-4, -4) projected
  line L7 (-7.5, -217.5) -> (-217.5, -217.5)
  point P0 (0, 0)
  dimension "d389" = 7.5
  dimension "d390" = 7.5
  dimension "d391" = 210
  dimension "d392" = 90
  dimension "d393" = 210
  dimension "d394" = 90
  dimension "d395" = 210
  dimension "d396" = 90
hole "Hole12" at (-7.5, 112.7, 7.5) at (-217.5, 112.7, 7.5) at (-217.5, 112.7, 217.5) at (-7.5, 112.7, 217.5) direction (0, -1, 0) diameter 3.302 depth 12.3 thread size "8-32 UNC" class "2B" standard "ANSI Unified Screw Threads"
sketch "Sketch41" plane through (0, 12.7, 0) normal (0, 1, 0) x (1, 0, 0)
  line L0 (0, -225) -> (0, 0) projected
  line L1 (0, 0) -> (-60, 0)
  line L2 (0, 0) -> (-225, 0) projected
  line L3 (-60, 0) -> (-60, -40)
  line L4 (-60, -40) -> (-90, -40)
  line L5 (-225, -225) -> (-130, -225)
  line L6 (-225, -225) -> (0, -225) projected
  line L7 (-130, -225) -> (-130, -165)
  line L8 (-130, -165) -> (-130, -135)
  line L9 (-130, -135) -> (-130, -105)
  dimension "d404" = 60
  dimension "d405" = 40
  dimension "d406" = 30
  dimension "d414" = 95
  dimension "d415" = 60
  dimension "d416" = 30
  dimension "d417" = 30
hole "Hole13" at (-60, 12.7, 40) at (-90, 12.7, 40) at (-130, 12.7, 165) at (-130, 12.7, 135) at (-130, 12.7, 105) direction (0, -1, 0) diameter 5.75 depth 10.979
properties part number "bakeoutbox"
